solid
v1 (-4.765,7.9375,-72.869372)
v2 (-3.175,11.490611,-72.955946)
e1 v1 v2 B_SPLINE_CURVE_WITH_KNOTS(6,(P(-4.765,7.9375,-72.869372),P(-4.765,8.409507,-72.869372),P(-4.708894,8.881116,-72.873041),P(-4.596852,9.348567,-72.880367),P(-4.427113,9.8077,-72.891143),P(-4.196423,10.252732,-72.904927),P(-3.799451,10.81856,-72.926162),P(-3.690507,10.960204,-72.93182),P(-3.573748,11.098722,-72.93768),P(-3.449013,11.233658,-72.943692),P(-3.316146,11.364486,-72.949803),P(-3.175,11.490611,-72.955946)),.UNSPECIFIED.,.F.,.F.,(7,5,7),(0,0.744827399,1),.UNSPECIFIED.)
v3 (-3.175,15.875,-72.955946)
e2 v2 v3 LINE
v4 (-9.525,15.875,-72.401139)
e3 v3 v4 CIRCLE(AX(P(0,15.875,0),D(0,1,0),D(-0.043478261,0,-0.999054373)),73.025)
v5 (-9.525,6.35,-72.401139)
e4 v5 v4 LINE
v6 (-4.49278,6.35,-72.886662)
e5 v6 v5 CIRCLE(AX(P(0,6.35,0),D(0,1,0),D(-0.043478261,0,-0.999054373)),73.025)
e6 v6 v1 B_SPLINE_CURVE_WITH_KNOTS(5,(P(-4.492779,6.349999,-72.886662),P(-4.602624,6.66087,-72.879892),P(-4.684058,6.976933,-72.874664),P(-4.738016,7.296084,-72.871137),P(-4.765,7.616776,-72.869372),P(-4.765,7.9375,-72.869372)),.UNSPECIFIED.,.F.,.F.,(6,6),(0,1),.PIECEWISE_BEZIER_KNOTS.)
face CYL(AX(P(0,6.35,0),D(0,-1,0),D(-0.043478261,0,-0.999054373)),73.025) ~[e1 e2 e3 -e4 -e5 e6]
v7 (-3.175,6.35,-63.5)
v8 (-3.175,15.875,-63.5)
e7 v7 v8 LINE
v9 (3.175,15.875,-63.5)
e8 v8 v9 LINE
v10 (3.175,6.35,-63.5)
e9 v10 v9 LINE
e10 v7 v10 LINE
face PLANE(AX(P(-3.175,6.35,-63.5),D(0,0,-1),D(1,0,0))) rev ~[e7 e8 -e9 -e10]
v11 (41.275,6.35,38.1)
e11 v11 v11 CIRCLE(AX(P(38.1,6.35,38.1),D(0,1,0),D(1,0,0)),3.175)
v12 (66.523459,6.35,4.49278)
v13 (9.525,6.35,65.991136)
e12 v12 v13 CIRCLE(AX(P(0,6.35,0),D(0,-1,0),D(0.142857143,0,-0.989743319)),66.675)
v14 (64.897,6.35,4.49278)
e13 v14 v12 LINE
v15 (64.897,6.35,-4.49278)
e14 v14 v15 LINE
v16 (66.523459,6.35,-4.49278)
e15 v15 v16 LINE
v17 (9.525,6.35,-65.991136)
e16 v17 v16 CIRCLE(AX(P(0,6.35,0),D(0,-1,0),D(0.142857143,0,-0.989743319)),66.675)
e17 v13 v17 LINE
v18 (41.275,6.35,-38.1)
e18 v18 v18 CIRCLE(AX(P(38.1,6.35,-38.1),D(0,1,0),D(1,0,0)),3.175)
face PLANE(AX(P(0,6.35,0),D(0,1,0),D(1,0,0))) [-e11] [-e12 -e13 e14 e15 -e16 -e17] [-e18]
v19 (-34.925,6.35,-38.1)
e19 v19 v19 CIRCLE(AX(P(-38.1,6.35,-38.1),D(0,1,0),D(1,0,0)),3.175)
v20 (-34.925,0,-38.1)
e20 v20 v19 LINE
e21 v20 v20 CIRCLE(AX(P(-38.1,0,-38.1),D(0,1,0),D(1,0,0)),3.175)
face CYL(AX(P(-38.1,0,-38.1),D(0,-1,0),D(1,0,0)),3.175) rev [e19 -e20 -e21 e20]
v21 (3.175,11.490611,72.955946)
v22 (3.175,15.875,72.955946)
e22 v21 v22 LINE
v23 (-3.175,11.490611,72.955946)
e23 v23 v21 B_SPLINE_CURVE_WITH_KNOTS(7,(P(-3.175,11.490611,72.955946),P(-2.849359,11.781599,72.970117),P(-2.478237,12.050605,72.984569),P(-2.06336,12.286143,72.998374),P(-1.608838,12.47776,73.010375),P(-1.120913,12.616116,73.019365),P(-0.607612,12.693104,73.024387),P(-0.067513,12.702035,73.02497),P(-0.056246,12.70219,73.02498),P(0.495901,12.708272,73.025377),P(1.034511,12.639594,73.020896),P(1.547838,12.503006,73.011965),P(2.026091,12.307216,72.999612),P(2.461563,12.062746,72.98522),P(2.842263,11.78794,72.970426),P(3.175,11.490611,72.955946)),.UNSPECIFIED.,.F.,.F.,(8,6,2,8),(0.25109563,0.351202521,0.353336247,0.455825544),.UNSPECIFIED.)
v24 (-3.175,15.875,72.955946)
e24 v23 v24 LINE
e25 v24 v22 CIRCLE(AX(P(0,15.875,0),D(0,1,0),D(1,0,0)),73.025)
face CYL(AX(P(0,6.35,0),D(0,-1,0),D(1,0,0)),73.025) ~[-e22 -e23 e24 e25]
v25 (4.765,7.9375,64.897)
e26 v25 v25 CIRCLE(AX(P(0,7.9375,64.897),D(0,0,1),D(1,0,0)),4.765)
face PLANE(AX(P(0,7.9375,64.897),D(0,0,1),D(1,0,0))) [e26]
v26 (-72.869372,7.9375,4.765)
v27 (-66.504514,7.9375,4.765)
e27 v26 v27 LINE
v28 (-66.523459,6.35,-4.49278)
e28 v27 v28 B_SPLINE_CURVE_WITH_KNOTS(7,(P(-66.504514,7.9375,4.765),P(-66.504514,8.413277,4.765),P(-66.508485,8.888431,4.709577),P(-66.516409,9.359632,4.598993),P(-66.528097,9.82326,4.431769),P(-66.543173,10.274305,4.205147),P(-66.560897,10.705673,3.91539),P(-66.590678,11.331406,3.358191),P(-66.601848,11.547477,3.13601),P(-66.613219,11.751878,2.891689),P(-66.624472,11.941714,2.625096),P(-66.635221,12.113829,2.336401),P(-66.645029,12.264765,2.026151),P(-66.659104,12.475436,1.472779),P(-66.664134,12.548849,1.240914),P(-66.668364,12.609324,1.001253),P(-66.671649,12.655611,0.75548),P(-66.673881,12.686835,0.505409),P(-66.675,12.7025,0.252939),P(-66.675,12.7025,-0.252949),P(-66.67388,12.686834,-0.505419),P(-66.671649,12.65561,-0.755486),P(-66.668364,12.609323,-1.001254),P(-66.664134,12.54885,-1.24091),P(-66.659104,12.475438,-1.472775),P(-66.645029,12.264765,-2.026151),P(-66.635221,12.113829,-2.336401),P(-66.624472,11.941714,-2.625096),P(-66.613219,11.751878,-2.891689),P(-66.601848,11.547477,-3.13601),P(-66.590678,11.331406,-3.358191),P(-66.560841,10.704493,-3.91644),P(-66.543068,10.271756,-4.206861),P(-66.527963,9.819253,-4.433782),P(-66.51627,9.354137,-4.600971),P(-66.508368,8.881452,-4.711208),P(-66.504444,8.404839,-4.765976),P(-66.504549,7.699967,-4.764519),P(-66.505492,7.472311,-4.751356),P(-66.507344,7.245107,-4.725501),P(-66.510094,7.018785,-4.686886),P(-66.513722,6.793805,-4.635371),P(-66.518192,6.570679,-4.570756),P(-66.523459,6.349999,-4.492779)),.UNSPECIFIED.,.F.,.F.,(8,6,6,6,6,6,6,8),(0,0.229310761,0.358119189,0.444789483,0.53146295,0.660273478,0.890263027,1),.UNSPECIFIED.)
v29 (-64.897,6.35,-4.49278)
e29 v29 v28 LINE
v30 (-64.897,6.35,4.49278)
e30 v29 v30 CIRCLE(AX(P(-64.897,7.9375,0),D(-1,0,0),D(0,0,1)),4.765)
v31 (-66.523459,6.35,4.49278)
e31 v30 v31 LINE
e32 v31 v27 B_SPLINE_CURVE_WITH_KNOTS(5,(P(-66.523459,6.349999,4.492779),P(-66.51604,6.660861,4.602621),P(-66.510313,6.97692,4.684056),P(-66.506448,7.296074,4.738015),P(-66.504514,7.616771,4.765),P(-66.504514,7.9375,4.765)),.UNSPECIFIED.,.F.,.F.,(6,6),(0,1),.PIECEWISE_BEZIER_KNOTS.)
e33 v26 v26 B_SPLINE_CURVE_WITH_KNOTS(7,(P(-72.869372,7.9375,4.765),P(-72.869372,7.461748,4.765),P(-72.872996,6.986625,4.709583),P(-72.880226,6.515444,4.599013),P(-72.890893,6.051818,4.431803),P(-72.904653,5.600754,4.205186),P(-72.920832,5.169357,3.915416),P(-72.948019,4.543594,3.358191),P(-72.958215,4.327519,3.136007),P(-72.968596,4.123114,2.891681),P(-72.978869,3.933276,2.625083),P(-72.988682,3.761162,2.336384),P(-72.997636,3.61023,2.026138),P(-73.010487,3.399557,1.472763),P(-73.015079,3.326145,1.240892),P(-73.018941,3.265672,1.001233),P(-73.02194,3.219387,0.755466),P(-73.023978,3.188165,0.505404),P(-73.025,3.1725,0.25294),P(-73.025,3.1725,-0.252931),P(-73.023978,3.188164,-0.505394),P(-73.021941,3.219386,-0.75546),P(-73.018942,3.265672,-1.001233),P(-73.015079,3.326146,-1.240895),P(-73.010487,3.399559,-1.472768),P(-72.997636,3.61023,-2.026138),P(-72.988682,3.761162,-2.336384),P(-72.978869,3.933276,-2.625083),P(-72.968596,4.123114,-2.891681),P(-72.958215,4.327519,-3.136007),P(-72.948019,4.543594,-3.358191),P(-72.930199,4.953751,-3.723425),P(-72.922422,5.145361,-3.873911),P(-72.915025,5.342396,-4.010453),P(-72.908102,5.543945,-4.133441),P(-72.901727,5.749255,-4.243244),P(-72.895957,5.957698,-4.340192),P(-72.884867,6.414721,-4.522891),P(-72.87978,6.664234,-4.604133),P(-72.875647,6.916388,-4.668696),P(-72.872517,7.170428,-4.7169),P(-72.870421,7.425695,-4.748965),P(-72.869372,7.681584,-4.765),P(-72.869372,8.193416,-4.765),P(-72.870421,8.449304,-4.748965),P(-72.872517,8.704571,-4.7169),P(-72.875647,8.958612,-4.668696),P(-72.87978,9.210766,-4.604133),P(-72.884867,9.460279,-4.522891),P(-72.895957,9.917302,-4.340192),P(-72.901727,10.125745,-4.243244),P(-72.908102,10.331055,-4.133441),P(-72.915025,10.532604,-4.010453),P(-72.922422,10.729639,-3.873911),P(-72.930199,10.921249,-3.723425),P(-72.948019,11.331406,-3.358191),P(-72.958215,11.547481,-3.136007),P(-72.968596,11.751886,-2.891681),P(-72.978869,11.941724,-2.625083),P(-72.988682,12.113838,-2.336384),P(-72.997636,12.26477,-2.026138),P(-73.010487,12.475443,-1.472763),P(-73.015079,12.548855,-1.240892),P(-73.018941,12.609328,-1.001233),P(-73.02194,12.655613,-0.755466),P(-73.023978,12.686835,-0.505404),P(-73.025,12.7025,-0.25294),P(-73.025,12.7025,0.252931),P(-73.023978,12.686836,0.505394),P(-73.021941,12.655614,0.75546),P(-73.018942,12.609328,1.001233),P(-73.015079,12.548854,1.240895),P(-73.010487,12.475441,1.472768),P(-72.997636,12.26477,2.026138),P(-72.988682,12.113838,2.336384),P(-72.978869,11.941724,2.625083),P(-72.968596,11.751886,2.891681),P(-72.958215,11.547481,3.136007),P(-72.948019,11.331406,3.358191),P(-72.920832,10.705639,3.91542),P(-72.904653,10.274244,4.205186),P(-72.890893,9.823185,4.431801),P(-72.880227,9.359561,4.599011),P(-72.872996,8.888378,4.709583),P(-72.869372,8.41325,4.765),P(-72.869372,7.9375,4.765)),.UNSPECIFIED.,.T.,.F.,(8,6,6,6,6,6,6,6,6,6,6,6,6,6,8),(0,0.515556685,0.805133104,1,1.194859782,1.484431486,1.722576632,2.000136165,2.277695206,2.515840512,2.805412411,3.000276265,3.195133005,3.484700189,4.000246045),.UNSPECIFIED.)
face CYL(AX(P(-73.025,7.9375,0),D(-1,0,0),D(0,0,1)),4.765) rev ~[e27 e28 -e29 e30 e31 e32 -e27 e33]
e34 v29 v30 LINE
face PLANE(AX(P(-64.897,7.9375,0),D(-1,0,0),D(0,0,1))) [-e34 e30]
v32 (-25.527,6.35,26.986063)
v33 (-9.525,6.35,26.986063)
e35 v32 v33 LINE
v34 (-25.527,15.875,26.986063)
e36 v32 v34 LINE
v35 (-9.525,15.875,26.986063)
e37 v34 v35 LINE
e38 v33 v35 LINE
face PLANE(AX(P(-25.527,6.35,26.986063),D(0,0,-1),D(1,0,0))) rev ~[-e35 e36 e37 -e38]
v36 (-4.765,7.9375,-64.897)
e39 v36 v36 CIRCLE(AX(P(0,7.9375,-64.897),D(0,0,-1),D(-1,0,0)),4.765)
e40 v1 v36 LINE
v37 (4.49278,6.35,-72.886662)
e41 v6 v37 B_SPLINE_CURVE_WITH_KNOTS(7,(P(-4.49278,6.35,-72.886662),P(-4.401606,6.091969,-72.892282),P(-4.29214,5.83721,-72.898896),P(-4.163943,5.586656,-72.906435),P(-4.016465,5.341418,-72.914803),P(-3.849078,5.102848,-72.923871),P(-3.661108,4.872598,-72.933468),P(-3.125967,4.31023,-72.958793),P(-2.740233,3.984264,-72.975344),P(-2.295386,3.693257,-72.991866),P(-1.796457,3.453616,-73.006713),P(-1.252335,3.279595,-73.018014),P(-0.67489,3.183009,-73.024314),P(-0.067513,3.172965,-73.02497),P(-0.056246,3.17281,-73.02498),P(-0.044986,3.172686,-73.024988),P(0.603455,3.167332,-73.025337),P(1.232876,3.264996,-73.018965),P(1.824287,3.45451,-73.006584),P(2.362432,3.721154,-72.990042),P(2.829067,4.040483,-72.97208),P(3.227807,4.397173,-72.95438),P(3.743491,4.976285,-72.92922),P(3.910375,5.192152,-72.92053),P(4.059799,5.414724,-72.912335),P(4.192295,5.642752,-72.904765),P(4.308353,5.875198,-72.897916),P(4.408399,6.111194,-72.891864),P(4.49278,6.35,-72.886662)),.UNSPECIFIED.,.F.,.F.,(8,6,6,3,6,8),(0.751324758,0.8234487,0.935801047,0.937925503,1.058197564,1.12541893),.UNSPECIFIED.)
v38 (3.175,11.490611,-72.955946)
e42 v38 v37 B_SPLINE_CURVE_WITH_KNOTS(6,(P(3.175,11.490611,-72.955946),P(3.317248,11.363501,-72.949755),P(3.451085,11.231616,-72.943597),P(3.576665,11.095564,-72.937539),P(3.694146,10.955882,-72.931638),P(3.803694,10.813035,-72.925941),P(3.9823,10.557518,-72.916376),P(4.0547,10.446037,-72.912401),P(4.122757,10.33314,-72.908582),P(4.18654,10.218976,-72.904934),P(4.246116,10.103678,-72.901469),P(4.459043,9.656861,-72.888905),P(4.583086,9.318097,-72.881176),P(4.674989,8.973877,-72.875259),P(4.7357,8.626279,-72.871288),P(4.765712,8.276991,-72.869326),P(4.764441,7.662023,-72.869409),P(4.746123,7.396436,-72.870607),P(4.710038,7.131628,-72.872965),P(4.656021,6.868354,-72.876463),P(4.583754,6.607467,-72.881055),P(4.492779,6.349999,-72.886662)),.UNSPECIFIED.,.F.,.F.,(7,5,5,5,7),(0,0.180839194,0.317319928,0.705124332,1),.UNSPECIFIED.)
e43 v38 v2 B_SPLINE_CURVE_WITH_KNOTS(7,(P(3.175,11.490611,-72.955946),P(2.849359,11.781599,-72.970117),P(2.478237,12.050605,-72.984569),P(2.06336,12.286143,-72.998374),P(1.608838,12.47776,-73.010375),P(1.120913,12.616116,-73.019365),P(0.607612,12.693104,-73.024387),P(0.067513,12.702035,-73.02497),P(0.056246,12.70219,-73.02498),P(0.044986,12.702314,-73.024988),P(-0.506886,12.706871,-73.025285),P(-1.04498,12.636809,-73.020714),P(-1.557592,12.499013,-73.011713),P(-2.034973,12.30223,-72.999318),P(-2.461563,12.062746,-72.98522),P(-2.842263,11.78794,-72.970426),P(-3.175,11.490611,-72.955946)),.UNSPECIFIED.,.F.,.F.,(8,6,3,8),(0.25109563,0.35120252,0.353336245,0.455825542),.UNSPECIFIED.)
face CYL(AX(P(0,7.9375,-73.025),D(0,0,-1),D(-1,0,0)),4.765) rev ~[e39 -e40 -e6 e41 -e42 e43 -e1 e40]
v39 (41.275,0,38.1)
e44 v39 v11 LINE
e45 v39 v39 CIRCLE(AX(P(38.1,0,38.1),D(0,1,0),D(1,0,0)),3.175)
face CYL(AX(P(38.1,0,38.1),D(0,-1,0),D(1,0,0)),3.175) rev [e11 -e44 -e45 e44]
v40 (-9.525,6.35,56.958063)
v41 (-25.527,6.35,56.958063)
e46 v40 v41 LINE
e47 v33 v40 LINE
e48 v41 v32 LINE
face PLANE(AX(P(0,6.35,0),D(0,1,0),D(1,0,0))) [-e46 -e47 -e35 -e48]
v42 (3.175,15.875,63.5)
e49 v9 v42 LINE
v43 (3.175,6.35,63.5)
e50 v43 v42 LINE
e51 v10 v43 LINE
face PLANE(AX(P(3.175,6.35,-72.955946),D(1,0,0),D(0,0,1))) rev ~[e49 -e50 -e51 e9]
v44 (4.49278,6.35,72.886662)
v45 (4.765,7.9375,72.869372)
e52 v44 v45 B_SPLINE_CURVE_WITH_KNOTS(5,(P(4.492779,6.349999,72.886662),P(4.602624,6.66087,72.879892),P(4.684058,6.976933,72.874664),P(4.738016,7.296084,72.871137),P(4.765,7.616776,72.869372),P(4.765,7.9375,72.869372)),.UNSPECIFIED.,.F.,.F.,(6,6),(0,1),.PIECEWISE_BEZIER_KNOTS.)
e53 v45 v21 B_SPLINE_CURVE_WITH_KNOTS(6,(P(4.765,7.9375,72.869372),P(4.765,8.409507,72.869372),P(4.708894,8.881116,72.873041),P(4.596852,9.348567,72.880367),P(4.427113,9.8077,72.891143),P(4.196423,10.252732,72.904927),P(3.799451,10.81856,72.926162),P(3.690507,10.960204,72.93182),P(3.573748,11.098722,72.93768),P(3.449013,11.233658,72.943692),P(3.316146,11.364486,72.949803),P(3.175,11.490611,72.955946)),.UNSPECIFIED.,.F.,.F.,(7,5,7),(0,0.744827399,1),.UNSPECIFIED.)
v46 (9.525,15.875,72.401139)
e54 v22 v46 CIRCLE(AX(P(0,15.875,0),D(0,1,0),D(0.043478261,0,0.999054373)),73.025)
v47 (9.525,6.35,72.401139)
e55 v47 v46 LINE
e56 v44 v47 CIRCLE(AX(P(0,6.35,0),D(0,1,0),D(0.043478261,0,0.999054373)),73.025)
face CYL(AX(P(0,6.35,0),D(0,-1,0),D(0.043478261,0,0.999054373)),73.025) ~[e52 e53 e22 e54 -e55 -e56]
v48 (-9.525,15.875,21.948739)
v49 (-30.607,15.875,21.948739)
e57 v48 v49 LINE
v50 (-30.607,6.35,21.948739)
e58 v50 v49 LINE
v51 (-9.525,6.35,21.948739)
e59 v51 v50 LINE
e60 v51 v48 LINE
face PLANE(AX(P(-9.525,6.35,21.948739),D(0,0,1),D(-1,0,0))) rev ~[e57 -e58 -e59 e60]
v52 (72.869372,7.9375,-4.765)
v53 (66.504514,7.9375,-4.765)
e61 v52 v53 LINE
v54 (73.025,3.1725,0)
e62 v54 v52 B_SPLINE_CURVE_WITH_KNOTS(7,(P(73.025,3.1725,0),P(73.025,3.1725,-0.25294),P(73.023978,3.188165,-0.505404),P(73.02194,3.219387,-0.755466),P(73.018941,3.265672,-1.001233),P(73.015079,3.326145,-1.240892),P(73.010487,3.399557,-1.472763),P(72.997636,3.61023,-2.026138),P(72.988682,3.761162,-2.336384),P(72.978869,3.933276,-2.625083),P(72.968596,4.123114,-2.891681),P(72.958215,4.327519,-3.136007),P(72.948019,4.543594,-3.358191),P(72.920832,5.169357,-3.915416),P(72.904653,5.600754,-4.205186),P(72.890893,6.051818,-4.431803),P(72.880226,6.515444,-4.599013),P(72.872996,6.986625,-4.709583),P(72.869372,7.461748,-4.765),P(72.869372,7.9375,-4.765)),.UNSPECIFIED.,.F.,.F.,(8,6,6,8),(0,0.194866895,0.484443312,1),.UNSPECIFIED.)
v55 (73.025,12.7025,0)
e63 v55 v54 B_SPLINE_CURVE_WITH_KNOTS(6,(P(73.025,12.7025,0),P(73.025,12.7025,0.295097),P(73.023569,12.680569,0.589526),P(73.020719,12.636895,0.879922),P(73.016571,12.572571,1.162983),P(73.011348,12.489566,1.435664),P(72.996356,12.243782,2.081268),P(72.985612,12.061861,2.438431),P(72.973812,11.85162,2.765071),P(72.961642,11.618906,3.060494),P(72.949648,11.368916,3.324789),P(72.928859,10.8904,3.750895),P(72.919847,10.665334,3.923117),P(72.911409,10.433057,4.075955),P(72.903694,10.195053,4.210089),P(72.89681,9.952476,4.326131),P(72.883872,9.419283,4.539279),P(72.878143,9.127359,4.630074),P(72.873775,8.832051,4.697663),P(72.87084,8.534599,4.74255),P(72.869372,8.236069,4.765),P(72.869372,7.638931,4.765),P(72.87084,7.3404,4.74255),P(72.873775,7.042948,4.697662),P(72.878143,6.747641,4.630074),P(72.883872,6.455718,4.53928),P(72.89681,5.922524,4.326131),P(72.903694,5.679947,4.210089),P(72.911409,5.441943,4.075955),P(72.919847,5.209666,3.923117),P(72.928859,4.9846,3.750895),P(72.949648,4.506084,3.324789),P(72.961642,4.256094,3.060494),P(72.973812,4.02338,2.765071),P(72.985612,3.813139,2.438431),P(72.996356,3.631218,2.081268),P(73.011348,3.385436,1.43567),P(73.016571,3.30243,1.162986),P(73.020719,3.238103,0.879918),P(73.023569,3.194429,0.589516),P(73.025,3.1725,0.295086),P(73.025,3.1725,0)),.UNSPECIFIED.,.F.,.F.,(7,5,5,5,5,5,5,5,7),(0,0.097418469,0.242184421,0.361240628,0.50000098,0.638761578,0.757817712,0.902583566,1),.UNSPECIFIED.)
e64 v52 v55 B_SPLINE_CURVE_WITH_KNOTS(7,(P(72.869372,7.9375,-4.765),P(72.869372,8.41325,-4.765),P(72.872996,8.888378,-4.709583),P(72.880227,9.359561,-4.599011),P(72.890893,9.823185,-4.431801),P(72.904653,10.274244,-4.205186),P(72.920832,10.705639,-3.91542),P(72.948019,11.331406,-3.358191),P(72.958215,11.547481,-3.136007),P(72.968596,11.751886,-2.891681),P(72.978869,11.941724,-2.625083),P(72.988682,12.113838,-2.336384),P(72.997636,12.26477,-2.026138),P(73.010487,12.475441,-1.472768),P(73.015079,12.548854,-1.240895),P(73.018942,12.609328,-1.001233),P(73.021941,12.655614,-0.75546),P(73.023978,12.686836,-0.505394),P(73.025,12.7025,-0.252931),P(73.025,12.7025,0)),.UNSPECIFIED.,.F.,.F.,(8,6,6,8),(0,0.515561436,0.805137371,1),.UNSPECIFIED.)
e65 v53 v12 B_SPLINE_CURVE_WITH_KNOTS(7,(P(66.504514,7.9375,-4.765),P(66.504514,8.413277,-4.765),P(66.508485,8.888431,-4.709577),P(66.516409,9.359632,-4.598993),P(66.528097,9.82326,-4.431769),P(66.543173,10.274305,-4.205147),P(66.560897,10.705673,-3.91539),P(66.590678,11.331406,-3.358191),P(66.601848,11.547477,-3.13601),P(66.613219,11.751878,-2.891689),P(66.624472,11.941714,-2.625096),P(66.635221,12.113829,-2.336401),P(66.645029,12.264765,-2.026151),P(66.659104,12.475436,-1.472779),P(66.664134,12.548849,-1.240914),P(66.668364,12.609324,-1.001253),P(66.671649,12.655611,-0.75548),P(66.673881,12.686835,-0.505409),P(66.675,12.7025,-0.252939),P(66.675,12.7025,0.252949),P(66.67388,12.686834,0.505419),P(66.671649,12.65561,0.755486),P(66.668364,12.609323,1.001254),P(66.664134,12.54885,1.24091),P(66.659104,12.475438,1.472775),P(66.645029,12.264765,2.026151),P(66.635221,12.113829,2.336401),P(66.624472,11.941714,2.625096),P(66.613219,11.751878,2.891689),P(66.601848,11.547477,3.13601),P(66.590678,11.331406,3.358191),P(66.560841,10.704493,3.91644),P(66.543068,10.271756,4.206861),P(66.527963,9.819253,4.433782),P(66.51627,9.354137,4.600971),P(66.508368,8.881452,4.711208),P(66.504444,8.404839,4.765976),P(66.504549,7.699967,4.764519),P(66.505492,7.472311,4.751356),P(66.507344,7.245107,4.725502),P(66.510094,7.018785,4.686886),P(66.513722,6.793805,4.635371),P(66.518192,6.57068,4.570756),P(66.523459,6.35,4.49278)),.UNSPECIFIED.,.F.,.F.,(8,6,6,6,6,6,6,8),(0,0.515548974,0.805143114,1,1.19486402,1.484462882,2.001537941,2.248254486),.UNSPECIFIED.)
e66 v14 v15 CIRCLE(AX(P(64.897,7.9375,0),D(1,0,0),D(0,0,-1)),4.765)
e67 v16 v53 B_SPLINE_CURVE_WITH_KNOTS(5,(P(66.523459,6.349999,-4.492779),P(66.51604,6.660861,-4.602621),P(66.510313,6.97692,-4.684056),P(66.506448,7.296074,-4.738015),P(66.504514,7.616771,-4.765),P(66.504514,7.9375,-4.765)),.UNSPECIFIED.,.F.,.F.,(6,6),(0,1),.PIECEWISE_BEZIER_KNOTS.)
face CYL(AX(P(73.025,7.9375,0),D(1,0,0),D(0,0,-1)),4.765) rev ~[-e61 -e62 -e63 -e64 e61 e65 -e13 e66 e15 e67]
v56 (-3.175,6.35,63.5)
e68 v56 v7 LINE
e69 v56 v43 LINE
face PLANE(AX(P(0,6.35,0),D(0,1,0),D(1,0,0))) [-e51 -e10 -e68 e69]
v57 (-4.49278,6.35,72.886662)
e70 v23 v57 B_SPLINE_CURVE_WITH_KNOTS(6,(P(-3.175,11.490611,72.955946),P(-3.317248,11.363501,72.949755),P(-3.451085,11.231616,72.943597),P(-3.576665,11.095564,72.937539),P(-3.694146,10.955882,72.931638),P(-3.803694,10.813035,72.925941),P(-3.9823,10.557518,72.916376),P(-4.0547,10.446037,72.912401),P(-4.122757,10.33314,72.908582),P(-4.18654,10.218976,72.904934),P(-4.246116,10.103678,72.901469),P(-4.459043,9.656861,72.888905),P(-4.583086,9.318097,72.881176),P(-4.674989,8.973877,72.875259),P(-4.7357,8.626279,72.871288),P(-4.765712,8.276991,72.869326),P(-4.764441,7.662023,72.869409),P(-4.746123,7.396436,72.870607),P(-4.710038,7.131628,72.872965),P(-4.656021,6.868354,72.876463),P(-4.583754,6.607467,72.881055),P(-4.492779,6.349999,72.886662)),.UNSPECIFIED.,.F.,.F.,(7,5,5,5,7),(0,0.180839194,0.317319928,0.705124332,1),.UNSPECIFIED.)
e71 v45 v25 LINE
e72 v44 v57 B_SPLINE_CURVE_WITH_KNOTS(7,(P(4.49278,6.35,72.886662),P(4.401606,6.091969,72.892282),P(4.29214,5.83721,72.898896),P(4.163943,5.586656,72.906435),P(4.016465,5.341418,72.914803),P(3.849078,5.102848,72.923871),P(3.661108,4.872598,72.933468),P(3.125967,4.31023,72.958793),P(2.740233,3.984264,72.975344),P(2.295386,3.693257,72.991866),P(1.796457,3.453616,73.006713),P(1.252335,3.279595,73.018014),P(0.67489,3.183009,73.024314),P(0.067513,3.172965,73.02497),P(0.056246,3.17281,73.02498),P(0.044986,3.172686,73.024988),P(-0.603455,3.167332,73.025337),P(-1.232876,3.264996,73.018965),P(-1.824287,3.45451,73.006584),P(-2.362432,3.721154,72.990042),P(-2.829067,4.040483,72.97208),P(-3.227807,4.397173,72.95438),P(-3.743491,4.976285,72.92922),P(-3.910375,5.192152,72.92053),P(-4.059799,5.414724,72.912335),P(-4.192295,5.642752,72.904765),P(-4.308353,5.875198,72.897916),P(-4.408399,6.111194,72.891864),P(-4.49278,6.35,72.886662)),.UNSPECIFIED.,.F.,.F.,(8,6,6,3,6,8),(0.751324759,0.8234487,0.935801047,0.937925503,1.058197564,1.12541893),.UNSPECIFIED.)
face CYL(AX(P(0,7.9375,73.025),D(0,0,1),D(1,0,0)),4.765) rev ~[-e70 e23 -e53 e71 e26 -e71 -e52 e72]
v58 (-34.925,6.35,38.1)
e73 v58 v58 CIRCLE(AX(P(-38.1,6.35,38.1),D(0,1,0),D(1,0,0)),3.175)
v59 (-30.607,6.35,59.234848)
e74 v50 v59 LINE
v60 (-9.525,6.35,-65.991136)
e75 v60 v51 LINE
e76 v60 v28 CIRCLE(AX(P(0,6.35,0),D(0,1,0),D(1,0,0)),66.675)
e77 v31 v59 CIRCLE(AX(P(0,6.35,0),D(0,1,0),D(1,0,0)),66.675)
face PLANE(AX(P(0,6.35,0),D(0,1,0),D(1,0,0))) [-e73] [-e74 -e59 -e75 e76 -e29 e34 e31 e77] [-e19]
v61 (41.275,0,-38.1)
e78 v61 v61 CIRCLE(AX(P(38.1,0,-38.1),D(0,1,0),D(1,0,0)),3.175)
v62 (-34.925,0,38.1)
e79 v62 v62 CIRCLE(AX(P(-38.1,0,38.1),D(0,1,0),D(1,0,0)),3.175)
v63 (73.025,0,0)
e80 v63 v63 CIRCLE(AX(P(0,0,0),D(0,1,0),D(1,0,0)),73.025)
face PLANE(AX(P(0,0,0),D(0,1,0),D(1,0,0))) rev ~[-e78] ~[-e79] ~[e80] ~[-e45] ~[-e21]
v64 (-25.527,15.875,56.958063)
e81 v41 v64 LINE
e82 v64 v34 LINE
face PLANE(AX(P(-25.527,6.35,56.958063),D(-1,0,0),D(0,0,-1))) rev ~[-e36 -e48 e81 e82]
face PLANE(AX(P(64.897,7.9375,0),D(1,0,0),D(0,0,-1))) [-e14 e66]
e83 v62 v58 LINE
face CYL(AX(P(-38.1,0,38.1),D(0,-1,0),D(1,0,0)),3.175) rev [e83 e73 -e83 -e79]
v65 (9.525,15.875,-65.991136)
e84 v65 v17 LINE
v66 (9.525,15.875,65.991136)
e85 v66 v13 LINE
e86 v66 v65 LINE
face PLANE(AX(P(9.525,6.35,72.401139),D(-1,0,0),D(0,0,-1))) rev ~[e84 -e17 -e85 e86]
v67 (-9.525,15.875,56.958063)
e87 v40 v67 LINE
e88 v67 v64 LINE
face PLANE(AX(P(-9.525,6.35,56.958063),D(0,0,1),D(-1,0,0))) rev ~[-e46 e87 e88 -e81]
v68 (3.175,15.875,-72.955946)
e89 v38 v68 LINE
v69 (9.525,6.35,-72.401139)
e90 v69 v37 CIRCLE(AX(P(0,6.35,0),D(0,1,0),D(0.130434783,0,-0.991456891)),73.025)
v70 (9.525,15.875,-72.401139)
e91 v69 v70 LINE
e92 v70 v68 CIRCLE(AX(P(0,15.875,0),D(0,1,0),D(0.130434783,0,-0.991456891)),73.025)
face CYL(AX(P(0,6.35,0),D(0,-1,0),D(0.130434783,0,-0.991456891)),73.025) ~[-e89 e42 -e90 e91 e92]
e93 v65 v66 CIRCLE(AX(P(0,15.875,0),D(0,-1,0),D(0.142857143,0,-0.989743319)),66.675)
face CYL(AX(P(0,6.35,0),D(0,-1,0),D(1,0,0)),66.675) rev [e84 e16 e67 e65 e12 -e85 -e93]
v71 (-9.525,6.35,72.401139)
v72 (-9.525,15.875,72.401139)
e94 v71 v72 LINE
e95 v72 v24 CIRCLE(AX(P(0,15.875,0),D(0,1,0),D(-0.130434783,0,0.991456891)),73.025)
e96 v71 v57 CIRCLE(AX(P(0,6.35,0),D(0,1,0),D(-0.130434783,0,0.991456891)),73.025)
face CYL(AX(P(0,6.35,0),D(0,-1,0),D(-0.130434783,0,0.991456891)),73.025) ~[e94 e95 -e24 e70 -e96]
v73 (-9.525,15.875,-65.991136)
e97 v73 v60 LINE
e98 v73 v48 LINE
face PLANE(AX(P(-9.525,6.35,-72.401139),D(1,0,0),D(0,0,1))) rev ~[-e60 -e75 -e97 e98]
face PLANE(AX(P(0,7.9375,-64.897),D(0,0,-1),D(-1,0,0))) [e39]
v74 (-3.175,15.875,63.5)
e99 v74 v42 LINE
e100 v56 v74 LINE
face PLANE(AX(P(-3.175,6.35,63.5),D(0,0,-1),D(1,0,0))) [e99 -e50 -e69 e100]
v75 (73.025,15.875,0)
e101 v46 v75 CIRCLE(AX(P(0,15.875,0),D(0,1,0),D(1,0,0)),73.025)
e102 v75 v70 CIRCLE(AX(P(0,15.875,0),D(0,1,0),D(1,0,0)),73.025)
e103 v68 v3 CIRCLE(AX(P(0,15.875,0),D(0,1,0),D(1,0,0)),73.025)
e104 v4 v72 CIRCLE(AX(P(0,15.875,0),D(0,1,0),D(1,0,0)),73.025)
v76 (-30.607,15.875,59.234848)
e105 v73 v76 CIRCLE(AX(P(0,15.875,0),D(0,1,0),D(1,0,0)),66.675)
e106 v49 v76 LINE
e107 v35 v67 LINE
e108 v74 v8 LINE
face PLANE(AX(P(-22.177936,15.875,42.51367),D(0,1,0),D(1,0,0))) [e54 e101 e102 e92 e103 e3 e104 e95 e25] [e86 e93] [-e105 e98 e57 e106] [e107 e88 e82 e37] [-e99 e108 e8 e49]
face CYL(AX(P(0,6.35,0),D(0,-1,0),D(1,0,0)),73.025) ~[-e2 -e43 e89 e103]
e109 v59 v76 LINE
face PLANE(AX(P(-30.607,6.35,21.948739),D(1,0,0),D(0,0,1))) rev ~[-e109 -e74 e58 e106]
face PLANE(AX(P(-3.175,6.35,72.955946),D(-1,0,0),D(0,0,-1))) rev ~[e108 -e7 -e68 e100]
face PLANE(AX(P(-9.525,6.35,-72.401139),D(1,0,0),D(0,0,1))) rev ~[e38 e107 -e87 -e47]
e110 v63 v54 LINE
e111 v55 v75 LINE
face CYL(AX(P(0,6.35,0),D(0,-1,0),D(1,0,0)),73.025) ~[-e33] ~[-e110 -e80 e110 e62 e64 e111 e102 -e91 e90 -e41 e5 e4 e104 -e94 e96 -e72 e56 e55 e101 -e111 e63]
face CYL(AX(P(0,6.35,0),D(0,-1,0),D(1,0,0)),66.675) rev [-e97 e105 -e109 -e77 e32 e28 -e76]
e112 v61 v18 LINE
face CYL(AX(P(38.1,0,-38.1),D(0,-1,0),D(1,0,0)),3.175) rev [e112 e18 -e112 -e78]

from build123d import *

# Parameters (mm, degrees)
SKETCH5_R           = 73.025
SKETCH5_R_2         = 3.175
PLATEBASE_DEPTH     = 6.35
PLATETOP_DEPTH      = 9.525
SKETCH9_R           = 73.025
SKETCH9_R_2         = 66.675
PLATEWALLS_DEPTH    = 9.525
PLATESLOTENDS_DEPTH = 9.525
BATTERYSLOT_DEPTH   = 9.525
SKETCH13_R          = 4.765
INSERTHOLE_DEPTH    = 8.128
INSERTHOLES_COUNT   = 4


with BuildPart() as part:
    # Sketch5 → PlateBase (new body)
    with BuildSketch(Plane(origin=(0, 0, 0), x_dir=(1, 0, 0), z_dir=(0, 1, 0))):
        Circle(SKETCH5_R)
        with Locations((38.1, 38.1)):
            Circle(SKETCH5_R_2, mode=Mode.SUBTRACT)
        with Locations((38.1, -38.1)):
            Circle(SKETCH5_R_2, mode=Mode.SUBTRACT)
        with Locations((-38.1, 38.1)):
            Circle(SKETCH5_R_2, mode=Mode.SUBTRACT)
        with Locations((-38.1, -38.1)):
            Circle(SKETCH5_R_2, mode=Mode.SUBTRACT)
    extrude(amount=PLATEBASE_DEPTH)

    # Sketch6 → PlateTop (add)
    with BuildSketch(Plane(origin=(0, 6.35, 0), x_dir=(1, 0, 0), z_dir=(0, 1, 0))):
        with BuildLine():
            Line((-3.175, 0), (-3.175, 72.955945611))
            ThreePointArc((-3.175, 72.955945611), (-6.35605636, 72.747860261), (-9.525, 72.401139494))
            Line((-9.525, 72.401139494), (-9.525, 0))
            Line((-9.525, 0), (-9.525, -72.401139494))
            ThreePointArc((-9.525, -72.401139494), (-6.35605636, -72.747860261), (-3.175, -72.955945611))
            Line((-3.175, -72.955945611), (-3.175, 0))
        make_face()
        with BuildLine():
            Line((3.175, 72.955945611), (3.175, 0))
            Line((3.175, 0), (3.175, -72.955945611))
            ThreePointArc((3.175, -72.955945611), (6.35605636, -72.747860261), (9.525, -72.401139494))
            Line((9.525, -72.401139494), (9.525, 0))
            Line((9.525, 0), (9.525, 72.401139494))
            ThreePointArc((9.525, 72.401139494), (6.35605636, 72.747860261), (3.175, 72.955945611))
        make_face()
    extrude(amount=PLATETOP_DEPTH)

    # Sketch9 → PlateWalls (add)
    with BuildSketch(Plane(origin=(0, 6.35, 0), x_dir=(1, 0, 0), z_dir=(0, 1, 0))):
        Circle(SKETCH9_R)
        Circle(SKETCH9_R_2, mode=Mode.SUBTRACT)
    extrude(amount=PLATEWALLS_DEPTH)

    # Sketch11 → PlateSlotEnds (add)
    with BuildSketch(Plane(origin=(0, 6.35, 0), x_dir=(1, 0, 0), z_dir=(0, 1, 0))):
        with BuildLine():
            Line((-3.175, -63.5), (3.175, -63.5))
            Line((3.175, -63.5), (3.175, -66.599361859))
            ThreePointArc((3.175, -66.599361859), (0, -66.675), (-3.175, -66.599361859))
            Line((-3.175, -66.599361859), (-3.175, -63.5))
        make_face()
        with BuildLine():
            Line((-3.175, 63.5), (3.175, 63.5))
            Line((3.175, 63.5), (3.175, 66.599361859))
            ThreePointArc((3.175, 66.599361859), (0, 66.675), (-3.175, 66.599361859))
            Line((-3.175, 66.599361859), (-3.175, 63.5))
        make_face()
    extrude(amount=PLATESLOTENDS_DEPTH)

    # Sketch12 → BatterySlot (add)
    with BuildSketch(Plane(origin=(0, 6.35, 0), x_dir=(1, 0, 0), z_dir=(0, 1, 0))):
        with BuildLine():
            Line((-9.525, -65.991135768), (-9.525, -56.958062669))
            Line((-9.525, -56.958062669), (-25.527, -56.958062669))
            Line((-25.527, -56.958062669), (-25.527, -26.986062669))
            Line((-25.527, -26.986062669), (-9.525, -26.986062669))
            Line((-9.525, -26.986062669), (-9.525, -21.948739215))
            Line((-9.525, -21.948739215), (-30.607, -21.948739215))
            Line((-30.607, -21.948739215), (-30.607, -59.234847649))
            ThreePointArc((-30.607, -59.234847649), (-20.348371269, -63.494089581), (-9.525, -65.991135768))
        make_face()
    extrude(amount=BATTERYSLOT_DEPTH)

    # Sketch13 → InsertHole (cut)
    with BuildSketch(Plane.XY.offset(73.025)):
        with Locations((0, 7.9375)):
            Circle(SKETCH13_R)
    inserthole = extrude(amount=-INSERTHOLE_DEPTH, mode=Mode.SUBTRACT)

    # InsertHoles: InsertHole ×4 about axis
    insertholes_axis = Axis((0, 0, 0), (0, 1, 0))
    for i in range(1, INSERTHOLES_COUNT):
        add(inserthole.rotate(insertholes_axis, i * 360 / INSERTHOLES_COUNT), mode=Mode.SUBTRACT)


solid = part.part
